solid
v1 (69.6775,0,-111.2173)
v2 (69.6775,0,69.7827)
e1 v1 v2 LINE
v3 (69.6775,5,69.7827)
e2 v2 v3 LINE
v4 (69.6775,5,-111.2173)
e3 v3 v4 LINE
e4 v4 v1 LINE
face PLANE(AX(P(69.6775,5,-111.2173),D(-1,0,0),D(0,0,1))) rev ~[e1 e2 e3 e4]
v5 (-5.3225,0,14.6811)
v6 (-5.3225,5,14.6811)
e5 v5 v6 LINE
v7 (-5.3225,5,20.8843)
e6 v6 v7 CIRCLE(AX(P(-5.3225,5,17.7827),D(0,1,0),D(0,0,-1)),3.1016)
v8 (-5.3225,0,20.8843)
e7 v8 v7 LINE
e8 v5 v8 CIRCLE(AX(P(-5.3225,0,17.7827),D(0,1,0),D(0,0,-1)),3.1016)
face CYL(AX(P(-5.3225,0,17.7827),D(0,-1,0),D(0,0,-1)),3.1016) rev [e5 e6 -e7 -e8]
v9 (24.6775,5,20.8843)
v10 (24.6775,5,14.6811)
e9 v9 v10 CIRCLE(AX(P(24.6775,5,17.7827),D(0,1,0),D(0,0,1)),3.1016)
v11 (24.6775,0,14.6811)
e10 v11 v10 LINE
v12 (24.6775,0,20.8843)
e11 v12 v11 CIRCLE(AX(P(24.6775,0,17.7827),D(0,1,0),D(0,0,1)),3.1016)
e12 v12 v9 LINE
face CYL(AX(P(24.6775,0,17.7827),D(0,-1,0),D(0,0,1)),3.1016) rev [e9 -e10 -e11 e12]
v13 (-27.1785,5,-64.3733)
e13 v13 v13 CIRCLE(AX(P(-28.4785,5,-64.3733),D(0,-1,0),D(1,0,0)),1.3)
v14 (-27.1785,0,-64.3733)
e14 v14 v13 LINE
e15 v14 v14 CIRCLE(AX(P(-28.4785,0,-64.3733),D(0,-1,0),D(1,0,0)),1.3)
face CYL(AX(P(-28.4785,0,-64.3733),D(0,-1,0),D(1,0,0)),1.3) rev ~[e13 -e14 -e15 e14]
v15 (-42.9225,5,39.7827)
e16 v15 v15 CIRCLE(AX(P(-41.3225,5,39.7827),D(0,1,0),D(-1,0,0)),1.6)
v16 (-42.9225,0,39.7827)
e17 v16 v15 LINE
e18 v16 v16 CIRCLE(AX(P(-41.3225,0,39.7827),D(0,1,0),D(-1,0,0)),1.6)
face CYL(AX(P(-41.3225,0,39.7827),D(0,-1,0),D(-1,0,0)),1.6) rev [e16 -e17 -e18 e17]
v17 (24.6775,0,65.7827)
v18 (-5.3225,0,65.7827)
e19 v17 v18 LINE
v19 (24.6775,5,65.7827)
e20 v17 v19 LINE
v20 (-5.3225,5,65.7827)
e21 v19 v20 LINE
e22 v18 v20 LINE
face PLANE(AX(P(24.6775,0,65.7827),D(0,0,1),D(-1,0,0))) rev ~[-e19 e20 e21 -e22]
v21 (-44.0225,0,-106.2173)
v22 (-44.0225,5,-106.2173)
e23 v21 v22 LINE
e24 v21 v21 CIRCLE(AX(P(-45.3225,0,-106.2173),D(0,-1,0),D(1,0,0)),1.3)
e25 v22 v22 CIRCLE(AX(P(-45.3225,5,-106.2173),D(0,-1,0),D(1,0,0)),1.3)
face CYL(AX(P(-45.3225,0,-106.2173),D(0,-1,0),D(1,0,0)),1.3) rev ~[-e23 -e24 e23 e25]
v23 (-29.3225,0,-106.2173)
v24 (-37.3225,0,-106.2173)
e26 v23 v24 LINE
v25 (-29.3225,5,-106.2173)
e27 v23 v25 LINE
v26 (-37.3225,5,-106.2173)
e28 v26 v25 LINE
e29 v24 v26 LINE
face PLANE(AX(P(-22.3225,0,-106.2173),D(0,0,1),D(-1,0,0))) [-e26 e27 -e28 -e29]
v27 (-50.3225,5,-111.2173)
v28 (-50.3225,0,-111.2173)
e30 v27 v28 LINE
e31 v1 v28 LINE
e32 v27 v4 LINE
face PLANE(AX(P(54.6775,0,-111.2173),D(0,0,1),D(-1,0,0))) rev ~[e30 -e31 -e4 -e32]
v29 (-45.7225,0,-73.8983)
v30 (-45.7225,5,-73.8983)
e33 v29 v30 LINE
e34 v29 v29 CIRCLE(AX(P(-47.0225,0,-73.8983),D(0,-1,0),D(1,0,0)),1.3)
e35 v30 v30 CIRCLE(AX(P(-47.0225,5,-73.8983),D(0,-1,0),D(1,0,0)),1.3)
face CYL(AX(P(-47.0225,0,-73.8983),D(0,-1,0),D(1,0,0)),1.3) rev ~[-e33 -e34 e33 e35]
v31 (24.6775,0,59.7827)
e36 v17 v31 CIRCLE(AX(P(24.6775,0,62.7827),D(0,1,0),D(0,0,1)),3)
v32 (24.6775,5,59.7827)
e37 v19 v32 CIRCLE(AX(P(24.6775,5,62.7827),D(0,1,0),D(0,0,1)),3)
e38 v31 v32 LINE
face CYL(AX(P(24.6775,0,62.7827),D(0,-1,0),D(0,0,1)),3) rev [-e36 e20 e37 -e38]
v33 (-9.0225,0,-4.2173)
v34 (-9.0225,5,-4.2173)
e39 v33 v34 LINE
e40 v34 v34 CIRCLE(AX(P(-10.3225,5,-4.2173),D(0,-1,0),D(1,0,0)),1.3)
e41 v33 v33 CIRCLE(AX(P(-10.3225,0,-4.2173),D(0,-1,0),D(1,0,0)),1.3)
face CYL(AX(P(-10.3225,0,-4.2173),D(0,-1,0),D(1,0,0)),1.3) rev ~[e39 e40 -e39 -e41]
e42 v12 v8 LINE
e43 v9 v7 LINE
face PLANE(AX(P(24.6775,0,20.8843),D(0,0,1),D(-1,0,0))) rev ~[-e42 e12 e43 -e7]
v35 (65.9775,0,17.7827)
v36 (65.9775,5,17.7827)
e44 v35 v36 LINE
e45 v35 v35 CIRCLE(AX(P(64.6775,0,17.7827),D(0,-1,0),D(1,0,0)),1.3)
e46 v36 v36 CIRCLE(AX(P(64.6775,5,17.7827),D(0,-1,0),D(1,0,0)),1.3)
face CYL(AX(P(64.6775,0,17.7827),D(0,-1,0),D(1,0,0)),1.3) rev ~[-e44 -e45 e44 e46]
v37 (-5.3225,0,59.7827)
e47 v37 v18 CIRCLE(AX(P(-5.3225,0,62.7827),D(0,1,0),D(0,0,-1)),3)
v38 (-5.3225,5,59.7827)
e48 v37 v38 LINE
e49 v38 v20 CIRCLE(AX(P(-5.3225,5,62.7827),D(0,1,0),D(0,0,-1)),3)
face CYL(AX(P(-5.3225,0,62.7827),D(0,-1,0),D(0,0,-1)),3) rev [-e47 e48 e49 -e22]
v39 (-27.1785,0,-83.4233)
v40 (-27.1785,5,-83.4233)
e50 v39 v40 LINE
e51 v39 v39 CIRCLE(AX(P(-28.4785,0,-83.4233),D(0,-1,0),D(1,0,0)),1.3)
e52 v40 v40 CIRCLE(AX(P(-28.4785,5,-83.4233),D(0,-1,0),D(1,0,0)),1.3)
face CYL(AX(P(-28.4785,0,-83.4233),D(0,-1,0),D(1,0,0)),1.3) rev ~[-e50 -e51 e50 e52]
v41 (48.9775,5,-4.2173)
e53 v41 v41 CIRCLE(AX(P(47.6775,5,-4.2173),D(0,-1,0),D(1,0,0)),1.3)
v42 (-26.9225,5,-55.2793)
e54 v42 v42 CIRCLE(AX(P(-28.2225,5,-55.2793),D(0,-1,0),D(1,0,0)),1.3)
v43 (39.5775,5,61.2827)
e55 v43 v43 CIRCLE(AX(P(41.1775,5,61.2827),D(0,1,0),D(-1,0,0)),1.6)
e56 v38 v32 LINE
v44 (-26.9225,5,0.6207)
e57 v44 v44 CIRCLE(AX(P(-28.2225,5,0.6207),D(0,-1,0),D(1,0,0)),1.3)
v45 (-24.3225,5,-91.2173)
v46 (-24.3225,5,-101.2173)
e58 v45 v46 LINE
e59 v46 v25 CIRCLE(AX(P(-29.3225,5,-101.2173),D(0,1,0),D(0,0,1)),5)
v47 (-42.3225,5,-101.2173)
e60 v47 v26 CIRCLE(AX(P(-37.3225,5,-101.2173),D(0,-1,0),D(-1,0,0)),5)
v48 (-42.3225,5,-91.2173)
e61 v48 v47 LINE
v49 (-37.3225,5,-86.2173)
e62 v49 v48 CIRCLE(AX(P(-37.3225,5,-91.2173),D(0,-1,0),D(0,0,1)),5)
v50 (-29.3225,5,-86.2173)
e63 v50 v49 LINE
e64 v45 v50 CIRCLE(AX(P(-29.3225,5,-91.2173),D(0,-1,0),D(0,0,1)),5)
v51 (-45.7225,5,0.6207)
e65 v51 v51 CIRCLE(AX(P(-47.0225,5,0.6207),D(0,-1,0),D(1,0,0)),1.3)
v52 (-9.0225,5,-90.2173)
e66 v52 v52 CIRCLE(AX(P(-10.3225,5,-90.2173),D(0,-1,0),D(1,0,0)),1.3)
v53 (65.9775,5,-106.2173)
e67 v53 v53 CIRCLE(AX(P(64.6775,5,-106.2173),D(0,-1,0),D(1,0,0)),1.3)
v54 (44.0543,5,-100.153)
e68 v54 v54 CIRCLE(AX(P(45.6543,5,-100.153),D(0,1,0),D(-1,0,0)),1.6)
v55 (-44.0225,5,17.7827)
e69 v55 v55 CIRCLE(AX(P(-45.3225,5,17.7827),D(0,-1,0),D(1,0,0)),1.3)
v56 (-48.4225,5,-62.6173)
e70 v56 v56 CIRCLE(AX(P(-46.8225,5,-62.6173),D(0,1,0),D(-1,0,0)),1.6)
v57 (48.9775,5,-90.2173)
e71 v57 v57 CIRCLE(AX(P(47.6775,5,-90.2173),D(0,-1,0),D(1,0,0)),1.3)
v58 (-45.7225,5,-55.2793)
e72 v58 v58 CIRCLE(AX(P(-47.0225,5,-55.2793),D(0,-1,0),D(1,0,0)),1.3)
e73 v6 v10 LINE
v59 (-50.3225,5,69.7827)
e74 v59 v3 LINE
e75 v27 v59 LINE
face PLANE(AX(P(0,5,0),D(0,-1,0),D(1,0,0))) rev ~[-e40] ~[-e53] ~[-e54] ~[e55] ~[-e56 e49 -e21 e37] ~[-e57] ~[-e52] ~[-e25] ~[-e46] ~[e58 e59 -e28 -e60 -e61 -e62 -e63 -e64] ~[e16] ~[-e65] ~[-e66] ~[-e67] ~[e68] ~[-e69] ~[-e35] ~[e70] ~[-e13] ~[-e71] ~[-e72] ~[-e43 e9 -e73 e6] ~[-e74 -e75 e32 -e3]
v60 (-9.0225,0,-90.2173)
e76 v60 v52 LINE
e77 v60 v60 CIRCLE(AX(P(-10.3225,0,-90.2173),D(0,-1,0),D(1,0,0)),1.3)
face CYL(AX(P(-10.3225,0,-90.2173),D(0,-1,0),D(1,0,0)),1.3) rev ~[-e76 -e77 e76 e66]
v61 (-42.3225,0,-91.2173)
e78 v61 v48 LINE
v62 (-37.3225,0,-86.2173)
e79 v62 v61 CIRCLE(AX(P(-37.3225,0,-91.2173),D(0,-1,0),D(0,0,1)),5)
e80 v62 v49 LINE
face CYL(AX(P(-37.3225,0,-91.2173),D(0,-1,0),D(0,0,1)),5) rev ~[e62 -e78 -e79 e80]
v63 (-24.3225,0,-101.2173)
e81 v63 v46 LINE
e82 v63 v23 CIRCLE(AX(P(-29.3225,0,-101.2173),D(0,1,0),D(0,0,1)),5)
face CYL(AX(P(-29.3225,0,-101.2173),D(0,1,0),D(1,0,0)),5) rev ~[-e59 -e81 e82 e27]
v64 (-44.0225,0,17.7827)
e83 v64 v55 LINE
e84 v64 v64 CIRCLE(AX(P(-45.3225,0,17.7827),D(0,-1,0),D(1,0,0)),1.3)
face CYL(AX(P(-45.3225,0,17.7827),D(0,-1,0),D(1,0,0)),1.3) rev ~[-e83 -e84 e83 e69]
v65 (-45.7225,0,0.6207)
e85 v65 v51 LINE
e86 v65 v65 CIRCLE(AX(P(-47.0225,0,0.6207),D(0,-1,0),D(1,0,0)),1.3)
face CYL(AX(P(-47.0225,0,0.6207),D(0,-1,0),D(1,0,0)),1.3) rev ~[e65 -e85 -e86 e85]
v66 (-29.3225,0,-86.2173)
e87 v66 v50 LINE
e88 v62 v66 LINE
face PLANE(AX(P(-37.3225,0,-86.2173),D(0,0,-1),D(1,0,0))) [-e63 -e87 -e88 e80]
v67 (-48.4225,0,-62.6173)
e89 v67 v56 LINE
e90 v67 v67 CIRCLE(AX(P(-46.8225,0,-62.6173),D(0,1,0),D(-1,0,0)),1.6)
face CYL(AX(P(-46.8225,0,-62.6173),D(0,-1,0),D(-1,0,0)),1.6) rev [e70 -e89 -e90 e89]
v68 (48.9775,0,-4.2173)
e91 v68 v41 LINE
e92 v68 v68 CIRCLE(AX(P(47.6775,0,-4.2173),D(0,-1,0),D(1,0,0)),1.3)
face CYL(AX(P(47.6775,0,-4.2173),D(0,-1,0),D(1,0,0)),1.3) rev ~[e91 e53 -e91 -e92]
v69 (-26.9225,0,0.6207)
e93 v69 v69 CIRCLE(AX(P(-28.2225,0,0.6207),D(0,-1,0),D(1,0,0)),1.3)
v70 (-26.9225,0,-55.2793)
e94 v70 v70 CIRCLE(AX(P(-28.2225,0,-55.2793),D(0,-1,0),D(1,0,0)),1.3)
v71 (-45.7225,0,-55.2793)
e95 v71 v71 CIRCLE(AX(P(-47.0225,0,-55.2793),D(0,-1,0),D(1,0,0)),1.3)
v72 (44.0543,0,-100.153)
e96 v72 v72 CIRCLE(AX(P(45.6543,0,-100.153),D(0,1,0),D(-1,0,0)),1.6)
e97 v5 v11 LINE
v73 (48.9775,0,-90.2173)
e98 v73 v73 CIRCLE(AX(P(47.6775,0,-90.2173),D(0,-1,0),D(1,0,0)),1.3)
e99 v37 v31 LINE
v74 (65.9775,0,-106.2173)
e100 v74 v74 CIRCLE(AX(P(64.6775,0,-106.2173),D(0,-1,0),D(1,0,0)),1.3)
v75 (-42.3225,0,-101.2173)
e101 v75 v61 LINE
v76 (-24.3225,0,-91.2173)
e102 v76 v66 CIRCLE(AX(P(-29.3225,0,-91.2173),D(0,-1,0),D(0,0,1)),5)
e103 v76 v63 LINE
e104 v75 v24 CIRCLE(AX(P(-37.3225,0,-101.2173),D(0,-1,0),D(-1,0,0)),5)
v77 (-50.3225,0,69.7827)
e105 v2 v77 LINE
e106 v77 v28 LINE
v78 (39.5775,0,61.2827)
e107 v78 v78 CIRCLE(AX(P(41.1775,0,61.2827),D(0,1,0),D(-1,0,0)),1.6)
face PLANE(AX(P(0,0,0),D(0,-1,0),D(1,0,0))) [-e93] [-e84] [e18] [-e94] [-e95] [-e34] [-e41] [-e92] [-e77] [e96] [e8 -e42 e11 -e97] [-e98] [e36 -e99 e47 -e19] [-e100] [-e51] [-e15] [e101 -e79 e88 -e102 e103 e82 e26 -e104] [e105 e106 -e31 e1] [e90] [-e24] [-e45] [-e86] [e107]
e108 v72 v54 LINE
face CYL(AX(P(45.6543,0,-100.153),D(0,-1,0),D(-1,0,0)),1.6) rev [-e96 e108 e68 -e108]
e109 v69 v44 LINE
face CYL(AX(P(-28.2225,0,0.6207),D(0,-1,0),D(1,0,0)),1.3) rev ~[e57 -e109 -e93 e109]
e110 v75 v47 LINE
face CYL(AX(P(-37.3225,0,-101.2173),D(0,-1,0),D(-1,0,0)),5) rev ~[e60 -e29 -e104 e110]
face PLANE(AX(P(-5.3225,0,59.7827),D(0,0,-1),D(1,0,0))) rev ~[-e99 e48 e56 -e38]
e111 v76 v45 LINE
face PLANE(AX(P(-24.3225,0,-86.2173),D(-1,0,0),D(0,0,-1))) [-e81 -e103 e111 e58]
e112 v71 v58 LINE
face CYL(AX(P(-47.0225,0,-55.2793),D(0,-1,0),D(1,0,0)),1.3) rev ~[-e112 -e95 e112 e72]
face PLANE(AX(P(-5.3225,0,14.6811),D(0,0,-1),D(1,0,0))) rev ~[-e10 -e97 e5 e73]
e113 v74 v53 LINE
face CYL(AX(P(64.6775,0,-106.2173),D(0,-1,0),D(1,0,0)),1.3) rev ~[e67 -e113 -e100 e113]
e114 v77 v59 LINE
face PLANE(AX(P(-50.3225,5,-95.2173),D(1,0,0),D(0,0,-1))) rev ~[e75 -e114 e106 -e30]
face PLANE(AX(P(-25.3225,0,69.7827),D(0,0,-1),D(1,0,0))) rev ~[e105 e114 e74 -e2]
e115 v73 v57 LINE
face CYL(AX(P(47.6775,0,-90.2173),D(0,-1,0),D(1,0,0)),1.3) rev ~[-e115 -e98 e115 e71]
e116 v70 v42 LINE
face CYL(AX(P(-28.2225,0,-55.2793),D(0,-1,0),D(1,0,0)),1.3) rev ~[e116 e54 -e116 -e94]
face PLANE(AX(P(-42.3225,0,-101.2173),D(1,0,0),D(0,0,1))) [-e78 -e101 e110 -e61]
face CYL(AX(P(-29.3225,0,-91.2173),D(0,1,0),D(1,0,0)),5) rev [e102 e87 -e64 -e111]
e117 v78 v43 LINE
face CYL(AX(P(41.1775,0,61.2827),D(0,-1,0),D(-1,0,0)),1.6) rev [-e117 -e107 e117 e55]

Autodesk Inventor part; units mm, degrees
ref_plane "YZ Plane" through (0, 0, 0) normal (1, 0, 0) x (0, 1, 0)
ref_plane "XZ Plane" through (0, 0, 0) normal (0, 1, 0) x (-1, 0, 0)
ref_plane "XY Plane" through (0, 0, 0) normal (0, 0, 1) x (1, 0, 0)
sketch "Sketch1" plane through (0, 0, 0) normal (0, 1, 0) x (-1, 0, 0)
  line L0 (35.3225, -111.2173) -> (35.3225, -99.2173)
  arc A0 (39.3225, -95.2173) -> (35.3225, -99.2173) centre (39.3225, -99.2173) ccw
  line L1 (39.3225, -95.2173) -> (50.3225, -95.2173)
  line L2 (50.3225, -95.2173) -> (50.3225, -19.2173)
  line L3 (50.3225, -19.2173) -> (41.3225, -10.2173)
  line L4 (41.3225, -10.2173) -> (41.3225, 19.7827)
  line L5 (41.3225, 19.7827) -> (50.3225, 29.7827)
  line L6 (50.3225, 29.7827) -> (50.3225, 56.7827)
  line L7 (50.3225, 56.7827) -> (41.3225, 61.4627)
  line L8 (41.3225, 61.4627) -> (25.3225, 69.7827)
  line L9 (25.3225, 69.7827) -> (-44.6775, 69.7827)
  line L10 (-44.6775, 69.7827) -> (-69.6775, 56.7827)
  line L11 (-69.6775, 56.7827) -> (-69.6775, -95.2173)
  line L12 (-69.6775, -95.2173) -> (-58.6775, -95.2173)
  arc A1 (-54.6775, -99.2173) -> (-58.6775, -95.2173) centre (-58.6775, -99.2173) ccw
  line L13 (-54.6775, -99.2173) -> (-54.6775, -111.2173)
  line L14 (-54.6775, -111.2173) -> (35.3225, -111.2173)
  circle A2 centre (-1.2775, -73.2173) radius 1.6
  circle A3 centre (46.8225, -62.6173) radius 1.6
  circle A4 centre (-45.6543, -100.153) radius 1.6
  circle A5 centre (-41.1775, 61.2827) radius 1.6
  circle A6 centre (41.3225, 39.7827) radius 1.6
  circle A7 centre (46.8225, -72.6173) radius 1.6
  line L15 (-24.6775, 65.7827) -> (5.3225, 65.7827)
  arc A8 (5.3225, 59.7827) -> (5.3225, 65.7827) centre (5.3225, 62.7827) ccw
  line L16 (5.3225, 59.7827) -> (-24.6775, 59.7827)
  arc A9 (-24.6775, 65.7827) -> (-24.6775, 59.7827) centre (-24.6775, 62.7827) ccw
  line L17 (5.3225, 14.6811) -> (-24.6775, 14.6811)
  arc A10 (-24.6775, 20.8843) -> (-24.6775, 14.6811) centre (-24.6775, 17.7827) ccw
  line L18 (-24.6775, 20.8843) -> (5.3225, 20.8843)
  arc A11 (5.3225, 14.6811) -> (5.3225, 20.8843) centre (5.3225, 17.7827) ccw
  circle A12 centre (20.3225, 49.7827) radius 1.6
  circle A13 centre (20.3225, -90.2173) radius 1.6
  circle A14 centre (-39.6775, 49.7827) radius 1.6
  circle A15 centre (-39.6775, -90.2173) radius 1.6
  line L19 (25.3225, 69.7827) -> (50.3225, 69.7827)
  line L20 (50.3225, 69.7827) -> (50.3225, 56.7827)
  line L21 (-44.6775, 69.7827) -> (-69.6775, 69.7827)
  line L22 (-69.6775, 69.7827) -> (-69.6775, 56.7827)
extrude "Extrusion1" add sketch "Sketch1" along normal blind 5 contours L14 L13 A1 L12 L11 L10 L9 L8 L7 L6 L5 L4 L3 L2 L1 A0 L0 | L22 L21 L10 | L19 L20 L7 L8 | A2 | A7 | A12 | A13 | A14 | A15
sketch "Sketch18" plane through (0, 5, 0) normal (0, 1, 0) x (1, 0, 0)
  line L0 (-50.3225, 95.2173) -> (-50.3225, 19.2173) projected
  line L1 (-50.3225, 19.2173) -> (-41.3225, 10.2173) projected
  line L2 (-41.3225, 10.2173) -> (-41.3225, -19.7827) projected
  line L3 (-41.3225, -19.7827) -> (-50.3225, -29.7827) projected
  line L4 (-50.3225, -29.7827) -> (-50.3225, -69.7827) projected
  line L5 (-50.3225, -69.7827) -> (69.6775, -69.7827) projected
  line L6 (69.6775, -69.7827) -> (69.6775, 95.2173) projected
  line L7 (69.6775, 95.2173) -> (58.6775, 95.2173) projected
  arc A0 (54.6775, 99.2173) -> (58.6775, 95.2173) centre (58.6775, 99.2173) ccw projected
  line L8 (54.6775, 99.2173) -> (54.6775, 111.2173) projected
  line L9 (54.6775, 111.2173) -> (-35.3225, 111.2173) projected
  line L10 (-35.3225, 111.2173) -> (-35.3225, 99.2173) projected
  arc A1 (-39.3225, 95.2173) -> (-35.3225, 99.2173) centre (-39.3225, 99.2173) ccw projected
  line L11 (-39.3225, 95.2173) -> (-50.3225, 95.2173) projected
  circle A2 centre (-46.8225, 62.6173) radius 1.6 projected
  circle A3 centre (-41.3225, -39.7827) radius 1.6 projected
  circle A4 centre (45.6543, 100.153) radius 1.6 projected
  circle A5 centre (41.1775, -61.2827) radius 1.6 projected
  line L12 (-5.3225, -59.7827) -> (24.6775, -59.7827) projected
  arc A6 (24.6775, -65.7827) -> (24.6775, -59.7827) centre (24.6775, -62.7827) ccw projected
  line L13 (24.6775, -65.7827) -> (-5.3225, -65.7827) projected
  arc A7 (-5.3225, -59.7827) -> (-5.3225, -65.7827) centre (-5.3225, -62.7827) ccw projected
  line L14 (-5.3225, -14.6811) -> (24.6775, -14.6811) projected
  arc A8 (24.6775, -20.8843) -> (24.6775, -14.6811) centre (24.6775, -17.7827) ccw projected
  line L15 (24.6775, -20.8843) -> (-5.3225, -20.8843) projected
  arc A9 (-5.3225, -14.6811) -> (-5.3225, -20.8843) centre (-5.3225, -17.7827) ccw projected
  line L16 (-50.3225, 95.2173) -> (-50.3225, 111.2173)
  line L17 (-50.3225, 111.2173) -> (-35.3225, 111.2173)
  line L18 (54.6775, 111.2173) -> (69.6775, 111.2173)
  line L19 (69.6775, 111.2173) -> (69.6775, 95.2173)
  line L20 (-50.3225, 19.2173) -> (-50.3225, -29.7827)
  point P0 (0, 0)
extrude "Extrusion14" add sketch "Sketch18" against normal blind 5 contours L16 L17 L10 A1 L11 | L1 L2 L3 L20 | L18 L19 L7 A0 L8
sketch "Sketch20" plane through (0, 0, 0) normal (0, -1, 0) x (1, 0, 0)
  line L0 (-23.2225, 2.6207) -> (-42.0225, 2.6207) construction
  line L1 (-42.0225, 2.6207) -> (-42.0225, -53.2793) construction
  line L2 (-42.0225, -53.2793) -> (-23.2225, -53.2793) construction
  line L3 (-23.2225, -53.2793) -> (-23.2225, 2.6207) construction
  line L4 (47.6775, -4.2173) -> (-10.3225, -4.2173) construction
  line L5 (-10.3225, -4.2173) -> (-10.3225, -90.2173) construction
  line L6 (-10.3225, -90.2173) -> (47.6775, -90.2173) construction
  line L7 (47.6775, -90.2173) -> (47.6775, -4.2173) construction
  line L8 (-23.4785, -64.3733) -> (-42.5285, -64.3733) construction
  line L9 (-42.5285, -64.3733) -> (-42.5285, -83.4233) construction
  line L10 (-42.5285, -83.4233) -> (-23.4785, -83.4233) construction
  line L11 (-23.4785, -83.4233) -> (-23.4785, -64.3733) construction
  circle A0 centre (-23.2225, 2.6207) radius 1.3
  circle A1 centre (-23.2225, -53.2793) radius 1.3
  circle A2 centre (-42.0225, 2.6207) radius 1.3
  circle A3 centre (-42.0225, -53.2793) radius 1.3
  circle A4 centre (-23.4785, -64.3733) radius 1.3
  circle A5 centre (-23.4785, -83.4233) radius 1.3
  line L12 (-20.6845, -61.5793) -> (-45.3225, -61.5793) construction
  line L13 (-45.3225, -61.5793) -> (-45.3225, -86.2173) construction
  line L14 (-37.3225, -86.2173) -> (-20.6845, -86.2173) construction
  line L15 (-20.6845, -86.2173) -> (-20.6845, -61.5793) construction
  line L16 (-19.9225, 5.9207) -> (-45.3225, 5.9207) construction
  line L17 (-45.3225, 5.9207) -> (-45.3225, -56.5793) construction
  line L18 (-45.3225, -56.5793) -> (-19.9225, -56.5793) construction
  line L19 (-19.9225, -56.5793) -> (-19.9225, 5.9207) construction
  circle A6 centre (47.6775, -4.2173) radius 1.3
  circle A7 centre (-10.3225, -4.2173) radius 1.3
  circle A8 centre (-10.3225, -90.2173) radius 1.3
  circle A9 centre (47.6775, -90.2173) radius 1.3
  line L20 (64.6775, 5.7827) -> (-14.3225, 5.7827) construction
  line L21 (-14.3225, 5.7827) -> (-14.3225, -94.2173) construction
  line L22 (-14.3225, -94.2173) -> (64.6775, -94.2173) construction
  line L23 (64.6775, -94.2173) -> (64.6775, 5.7827) construction
  line L24 (64.6775, 17.7827) -> (-45.3225, 17.7827) construction
  line L25 (-45.3225, 17.7827) -> (-45.3225, -106.2173) construction
  line L26 (-37.3225, -106.2173) -> (64.6775, -106.2173) construction
  line L27 (64.6775, -106.2173) -> (64.6775, 17.7827) construction
  circle A10 centre (64.6775, 17.7827) radius 1.3
  circle A11 centre (-45.3225, 17.7827) radius 1.3
  circle A12 centre (-45.3225, -106.2173) radius 1.3
  circle A13 centre (64.6775, -106.2173) radius 1.3
  line L28 (-50.3225, -111.2173) -> (69.6775, -111.2173) construction
  line L29 (69.6775, 69.7827) -> (69.6775, -111.2173) construction
  line L30 (-50.3225, -111.2173) -> (-50.3225, 69.7827) construction
  line L31 (25.1775, 5.7827) -> (64.6775, 17.7827) construction
  line L32 (25.1775, -94.2173) -> (64.6775, -106.2173) construction
  line L33 (-42.3225, -86.2173) -> (-22.3225, -86.2173)
  line L34 (-17.3225, -91.2173) -> (-17.3225, -101.2173)
  line L35 (-22.3225, -106.2173) -> (-42.3225, -106.2173)
  line L36 (-42.3225, -101.2173) -> (-42.3225, -91.2173)
  arc A14 (-17.3225, -91.2173) -> (-22.3225, -86.2173) centre (-22.3225, -91.2173) ccw
  arc A15 (-22.3225, -106.2173) -> (-17.3225, -101.2173) centre (-22.3225, -101.2173) ccw
  arc A16 (-42.3225, -101.2173) -> (-37.3225, -106.2173) centre (-37.3225, -101.2173) ccw
  arc A17 (-37.3225, -86.2173) -> (-42.3225, -91.2173) centre (-37.3225, -91.2173) ccw
  circle A18 centre (-42.5285, -73.8983) radius 1.3
  point P0 (0, 0)
  point P1 (-32.6225, -56.5793)
  point P2 (-17.3225, -106.2173)
  dimension "d122" = 2.6
  dimension "d123" = 2.6
  dimension "d124" = 2.6
  dimension "d125" = 2.6
  dimension "d126" = 2.6
  dimension "d128" = 2.6
  dimension "d130" = 19.05
  dimension "d131" = 2.794
  dimension "d132" = 2.794
  dimension "d133" = 2.794
  dimension "d134" = 55.9
  dimension "d135" = 18.8
  dimension "d136" = 3.3
  dimension "d137" = 3.3
  dimension "d138" = 3.3
  dimension "d139" = 2.6
  dimension "d140" = 2.6
  dimension "d141" = 2.6
  dimension "d142" = 2.6
  dimension "d143" = 86
  dimension "d144" = 58
  dimension "d145" = 10
  dimension "d146" = 4
  dimension "d147" = 17
  dimension "d148" = 4
  dimension "d149" = 2.6
  dimension "d150" = 2.6
  dimension "d151" = 2.6
  dimension "d152" = 2.6
  dimension "d153" = 5
  dimension "d154" = 5
  dimension "d155" = 5
  dimension "d156" = 124
  dimension "d158" = 3.3
  dimension "d159" = 21.844
  dimension "d160" = 25
  dimension "d161" = 5
  dimension "d164" = 3
  dimension "d165" = 3
  dimension "d167" = 5
  dimension "d168" = 2.794
  dimension "d169" = 2.6
extrude "Extrusion15" cut sketch "Sketch20" against normal blind 10
sketch "Sketch22" plane through (0, 0, 0) normal (0, -1, 0) x (1, 0, 0)
  circle A0 centre (64.6775, -106.2173) radius 1.3 projected
  circle A1 centre (47.6775, -90.2173) radius 1.3 projected
  circle A2 centre (64.6775, 17.7827) radius 1.3 projected
  circle A3 centre (-45.3225, -106.2173) radius 1.3 projected
  circle A4 centre (-23.2225, -53.2793) radius 1.3 projected
  circle A5 centre (-42.0225, -53.2793) radius 1.3 projected
  circle A6 centre (-10.3225, -4.2173) radius 1.3 projected
  circle A7 centre (-42.5285, -73.8983) radius 1.3 projected
  circle A8 centre (-10.3225, -90.2173) radius 1.3 projected
  circle A9 centre (-23.4785, -83.4233) radius 1.3 projected
  circle A10 centre (-42.0225, 2.6207) radius 1.3 projected
  circle A11 centre (-23.2225, 2.6207) radius 1.3 projected
  circle A12 centre (-45.3225, 17.7827) radius 1.3 projected
  circle A13 centre (-23.4785, -64.3733) radius 1.3 projected
  circle A14 centre (47.6775, -4.2173) radius 1.3 projected
  arc A15 (-37.3225, -86.2173) -> (-42.3225, -91.2173) centre (-37.3225, -91.2173) ccw projected
  line L0 (-37.3225, -86.2173) -> (-22.3225, -86.2173) projected
  arc A16 (-17.3225, -91.2173) -> (-22.3225, -86.2173) centre (-22.3225, -91.2173) ccw projected
  line L1 (-17.3225, -91.2173) -> (-17.3225, -101.2173) projected
  arc A17 (-22.3225, -106.2173) -> (-17.3225, -101.2173) centre (-22.3225, -101.2173) ccw projected
  line L2 (-22.3225, -106.2173) -> (-37.3225, -106.2173) projected
  arc A18 (-42.3225, -101.2173) -> (-37.3225, -106.2173) centre (-37.3225, -101.2173) ccw projected
  line L3 (-42.3225, -101.2173) -> (-42.3225, -91.2173) projected
  line L4 (-50.3225, -111.2173) -> (-50.3225, 69.7827) projected
  line L5 (-50.3225, -111.2173) -> (69.6775, -111.2173) projected
  line L6 (69.6775, 69.7827) -> (69.6775, -111.2173) projected
  line L7 (-50.3225, 69.7827) -> (69.6775, 69.7827) projected
  circle A19 centre (-46.8225, -62.6173) radius 1.6 projected
  circle A20 centre (-41.3225, 39.7827) radius 1.6 projected
  circle A21 centre (45.6543, -100.153) radius 1.6 projected
  circle A22 centre (41.1775, 61.2827) radius 1.6 projected
  line L8 (-5.3225, 59.7827) -> (24.6775, 59.7827) projected
  arc A23 (-5.3225, 65.7827) -> (-5.3225, 59.7827) centre (-5.3225, 62.7827) ccw projected
  line L9 (24.6775, 65.7827) -> (-5.3225, 65.7827) projected
  arc A24 (24.6775, 59.7827) -> (24.6775, 65.7827) centre (24.6775, 62.7827) ccw projected
  line L10 (-5.3225, 14.6811) -> (24.6775, 14.6811) projected
  arc A25 (-5.3225, 20.8843) -> (-5.3225, 14.6811) centre (-5.3225, 17.7827) ccw projected
  line L11 (24.6775, 20.8843) -> (-5.3225, 20.8843) projected
  arc A26 (24.6775, 14.6811) -> (24.6775, 20.8843) centre (24.6775, 17.7827) ccw projected
  point P0 (0, 0)
extrude "Extrusion16" add sketch "Sketch22" against normal blind 5 contours A4 | A5 | A7 | A9 | A10 | A11 | A13
sketch "Sketch23" plane through (0, 0, 0) normal (0, -1, 0) x (1, 0, 0)
  circle A0 centre (-47.0225, 0.6207) radius 1.25 projected
  circle A1 centre (-28.2225, 0.6207) radius 1.25 projected
  circle A2 centre (-47.0225, -55.2793) radius 1.25 projected
  circle A3 centre (-28.2225, -55.2793) radius 1.25 projected
  circle A4 centre (-28.4785, -83.4233) radius 1.0922 projected
  circle A5 centre (-28.4785, -64.3733) radius 1.0922 projected
  point P0 (0, 0)
extrude "Extrusion17" cut sketch "Sketch23" against normal blind 5
sketch "Sketch24" plane through (0, 0, 0) normal (0, -1, 0) x (1, 0, 0)
  circle A0 centre (-28.2225, -55.2793) radius 1.25 projected
  circle A1 centre (-28.4785, -83.4233) radius 1.0922 projected
  circle A2 centre (-28.2225, 0.6207) radius 1.25 projected
  circle A3 centre (-47.0225, -55.2793) radius 1.25 projected
  circle A4 centre (-28.4785, -64.3733) radius 1.0922 projected
  circle A5 centre (-47.0225, 0.6207) radius 1.25 projected
  circle A6 centre (64.6775, -106.2173) radius 1.3 projected
  circle A7 centre (47.6775, -90.2173) radius 1.3 projected
  circle A8 centre (64.6775, 17.7827) radius 1.3 projected
  circle A9 centre (-45.3225, -106.2173) radius 1.3 projected
  circle A10 centre (-10.3225, -4.2173) radius 1.3 projected
  circle A11 centre (-10.3225, -90.2173) radius 1.3 projected
  circle A12 centre (-45.3225, 17.7827) radius 1.3 projected
  circle A13 centre (47.6775, -4.2173) radius 1.3 projected
  arc A14 (-37.3225, -86.2173) -> (-42.3225, -91.2173) centre (-37.3225, -91.2173) ccw projected
  line L0 (-37.3225, -86.2173) -> (-22.3225, -86.2173) projected
  arc A15 (-17.3225, -91.2173) -> (-22.3225, -86.2173) centre (-22.3225, -91.2173) ccw projected
  line L1 (-17.3225, -91.2173) -> (-17.3225, -101.2173) projected
  arc A16 (-22.3225, -106.2173) -> (-17.3225, -101.2173) centre (-22.3225, -101.2173) ccw projected
  line L2 (-22.3225, -106.2173) -> (-37.3225, -106.2173) projected
  arc A17 (-42.3225, -101.2173) -> (-37.3225, -106.2173) centre (-37.3225, -101.2173) ccw projected
  line L3 (-42.3225, -101.2173) -> (-42.3225, -91.2173) projected
  line L4 (-50.3225, -111.2173) -> (-50.3225, 69.7827) projected
  line L5 (-50.3225, -111.2173) -> (69.6775, -111.2173) projected
  line L6 (69.6775, 69.7827) -> (69.6775, -111.2173) projected
  line L7 (-50.3225, 69.7827) -> (69.6775, 69.7827) projected
  circle A18 centre (-46.8225, -62.6173) radius 1.6 projected
  circle A19 centre (-41.3225, 39.7827) radius 1.6 projected
  circle A20 centre (45.6543, -100.153) radius 1.6 projected
  circle A21 centre (41.1775, 61.2827) radius 1.6 projected
  line L8 (-5.3225, 59.7827) -> (24.6775, 59.7827) projected
  arc A22 (-5.3225, 65.7827) -> (-5.3225, 59.7827) centre (-5.3225, 62.7827) ccw projected
  line L9 (24.6775, 65.7827) -> (-5.3225, 65.7827) projected
  arc A23 (24.6775, 59.7827) -> (24.6775, 65.7827) centre (24.6775, 62.7827) ccw projected
  line L10 (-5.3225, 14.6811) -> (24.6775, 14.6811) projected
  arc A24 (-5.3225, 20.8843) -> (-5.3225, 14.6811) centre (-5.3225, 17.7827) ccw projected
  line L11 (24.6775, 20.8843) -> (-5.3225, 20.8843) projected
  arc A25 (24.6775, 14.6811) -> (24.6775, 20.8843) centre (24.6775, 17.7827) ccw projected
  circle A26 centre (-28.2225, 0.6207) radius 1.3
  circle A27 centre (-47.0225, 0.6207) radius 1.3
  circle A28 centre (-47.0225, -55.2793) radius 1.3
  circle A29 centre (-28.2225, -55.2793) radius 1.3
  circle A30 centre (-28.4785, -83.4233) radius 1.3
  circle A31 centre (-28.4785, -64.3733) radius 1.3
  circle A32 centre (-47.0225, -73.8983) radius 1.3
  line L12 (-47.0225, -55.2793) -> (-47.0225, -73.8983) construction
  line L13 (-47.0225, -73.8983) -> (-28.4785, -64.3733) construction
  line L14 (-47.0225, -73.8983) -> (-28.4785, -83.4233) construction
  point P0 (0, 0)
  dimension "d174" = 2.6
extrude "Extrusion18" cut sketch "Sketch24" against normal blind 5 contours A2 | A5 | A26 | A27 | A28 | A29 | A30 | A31 | A32
sketch "Sketch25" plane through (0, 0, 0) normal (0, -1, 0) x (1, 0, 0)
  circle A0 centre (-28.2225, -55.2793) radius 1.3 projected
  circle A1 centre (-28.4785, -64.3733) radius 1.3 projected
  circle A2 centre (-47.0225, -55.2793) radius 1.3 projected
  circle A3 centre (-47.0225, 0.6207) radius 1.3 projected
  circle A4 centre (-28.4785, -83.4233) radius 1.3 projected
  circle A5 centre (-47.0225, -73.8983) radius 1.3 projected
  circle A6 centre (-28.2225, 0.6207) radius 1.3 projected
  circle A7 centre (64.6775, -106.2173) radius 1.3 projected
  circle A8 centre (47.6775, -90.2173) radius 1.3 projected
  circle A9 centre (64.6775, 17.7827) radius 1.3 projected
  circle A10 centre (-45.3225, -106.2173) radius 1.3 projected
  circle A11 centre (-10.3225, -4.2173) radius 1.3 projected
  circle A12 centre (-10.3225, -90.2173) radius 1.3 projected
  circle A13 centre (-45.3225, 17.7827) radius 1.3 projected
  circle A14 centre (47.6775, -4.2173) radius 1.3 projected
  arc A15 (-37.3225, -86.2173) -> (-42.3225, -91.2173) centre (-37.3225, -91.2173) ccw projected
  line L0 (-37.3225, -86.2173) -> (-22.3225, -86.2173) projected
  arc A16 (-17.3225, -91.2173) -> (-22.3225, -86.2173) centre (-22.3225, -91.2173) ccw projected
  line L1 (-17.3225, -91.2173) -> (-17.3225, -101.2173) projected
  arc A17 (-22.3225, -106.2173) -> (-17.3225, -101.2173) centre (-22.3225, -101.2173) ccw projected
  line L2 (-22.3225, -106.2173) -> (-37.3225, -106.2173) projected
  arc A18 (-42.3225, -101.2173) -> (-37.3225, -106.2173) centre (-37.3225, -101.2173) ccw projected
  line L3 (-42.3225, -101.2173) -> (-42.3225, -91.2173) projected
  line L4 (-50.3225, -111.2173) -> (-50.3225, 69.7827) projected
  line L5 (-50.3225, -111.2173) -> (69.6775, -111.2173) projected
  line L6 (69.6775, 69.7827) -> (69.6775, -111.2173) projected
  line L7 (-50.3225, 69.7827) -> (69.6775, 69.7827) projected
  circle A19 centre (-46.8225, -62.6173) radius 1.6 projected
  circle A20 centre (-41.3225, 39.7827) radius 1.6 projected
  circle A21 centre (45.6543, -100.153) radius 1.6 projected
  circle A22 centre (41.1775, 61.2827) radius 1.6 projected
  line L8 (-5.3225, 59.7827) -> (24.6775, 59.7827) projected
  arc A23 (-5.3225, 65.7827) -> (-5.3225, 59.7827) centre (-5.3225, 62.7827) ccw projected
  line L9 (24.6775, 65.7827) -> (-5.3225, 65.7827) projected
  arc A24 (24.6775, 59.7827) -> (24.6775, 65.7827) centre (24.6775, 62.7827) ccw projected
  line L10 (-5.3225, 14.6811) -> (24.6775, 14.6811) projected
  arc A25 (-5.3225, 20.8843) -> (-5.3225, 14.6811) centre (-5.3225, 17.7827) ccw projected
  line L11 (24.6775, 20.8843) -> (-5.3225, 20.8843) projected
  arc A26 (24.6775, 14.6811) -> (24.6775, 20.8843) centre (24.6775, 17.7827) ccw projected
  line L12 (-17.3225, -86.2173) -> (-24.3225, -86.2173)
  line L13 (-24.3225, -86.2173) -> (-24.3225, -106.2173)
  line L14 (-24.3225, -106.2173) -> (-17.3225, -106.2173)
  line L15 (-17.3225, -106.2173) -> (-17.3225, -86.2173)
  line L16 (-37.3225, -86.2173) -> (-22.3225, -86.2173) projected
  point P0 (0, 0)
  dimension "d179" = 26
extrude "Extrusion20" add sketch "Sketch25" against normal blind 5 contours L0 A16 L1 A17 L2 L13
fillet "Fillet2" radius 5 2 edges at (-24.3225, 2.5, -86.2173) (-24.3225, 2.5, -106.2173)
properties part number "tamiya_chassis_3DPrint"
